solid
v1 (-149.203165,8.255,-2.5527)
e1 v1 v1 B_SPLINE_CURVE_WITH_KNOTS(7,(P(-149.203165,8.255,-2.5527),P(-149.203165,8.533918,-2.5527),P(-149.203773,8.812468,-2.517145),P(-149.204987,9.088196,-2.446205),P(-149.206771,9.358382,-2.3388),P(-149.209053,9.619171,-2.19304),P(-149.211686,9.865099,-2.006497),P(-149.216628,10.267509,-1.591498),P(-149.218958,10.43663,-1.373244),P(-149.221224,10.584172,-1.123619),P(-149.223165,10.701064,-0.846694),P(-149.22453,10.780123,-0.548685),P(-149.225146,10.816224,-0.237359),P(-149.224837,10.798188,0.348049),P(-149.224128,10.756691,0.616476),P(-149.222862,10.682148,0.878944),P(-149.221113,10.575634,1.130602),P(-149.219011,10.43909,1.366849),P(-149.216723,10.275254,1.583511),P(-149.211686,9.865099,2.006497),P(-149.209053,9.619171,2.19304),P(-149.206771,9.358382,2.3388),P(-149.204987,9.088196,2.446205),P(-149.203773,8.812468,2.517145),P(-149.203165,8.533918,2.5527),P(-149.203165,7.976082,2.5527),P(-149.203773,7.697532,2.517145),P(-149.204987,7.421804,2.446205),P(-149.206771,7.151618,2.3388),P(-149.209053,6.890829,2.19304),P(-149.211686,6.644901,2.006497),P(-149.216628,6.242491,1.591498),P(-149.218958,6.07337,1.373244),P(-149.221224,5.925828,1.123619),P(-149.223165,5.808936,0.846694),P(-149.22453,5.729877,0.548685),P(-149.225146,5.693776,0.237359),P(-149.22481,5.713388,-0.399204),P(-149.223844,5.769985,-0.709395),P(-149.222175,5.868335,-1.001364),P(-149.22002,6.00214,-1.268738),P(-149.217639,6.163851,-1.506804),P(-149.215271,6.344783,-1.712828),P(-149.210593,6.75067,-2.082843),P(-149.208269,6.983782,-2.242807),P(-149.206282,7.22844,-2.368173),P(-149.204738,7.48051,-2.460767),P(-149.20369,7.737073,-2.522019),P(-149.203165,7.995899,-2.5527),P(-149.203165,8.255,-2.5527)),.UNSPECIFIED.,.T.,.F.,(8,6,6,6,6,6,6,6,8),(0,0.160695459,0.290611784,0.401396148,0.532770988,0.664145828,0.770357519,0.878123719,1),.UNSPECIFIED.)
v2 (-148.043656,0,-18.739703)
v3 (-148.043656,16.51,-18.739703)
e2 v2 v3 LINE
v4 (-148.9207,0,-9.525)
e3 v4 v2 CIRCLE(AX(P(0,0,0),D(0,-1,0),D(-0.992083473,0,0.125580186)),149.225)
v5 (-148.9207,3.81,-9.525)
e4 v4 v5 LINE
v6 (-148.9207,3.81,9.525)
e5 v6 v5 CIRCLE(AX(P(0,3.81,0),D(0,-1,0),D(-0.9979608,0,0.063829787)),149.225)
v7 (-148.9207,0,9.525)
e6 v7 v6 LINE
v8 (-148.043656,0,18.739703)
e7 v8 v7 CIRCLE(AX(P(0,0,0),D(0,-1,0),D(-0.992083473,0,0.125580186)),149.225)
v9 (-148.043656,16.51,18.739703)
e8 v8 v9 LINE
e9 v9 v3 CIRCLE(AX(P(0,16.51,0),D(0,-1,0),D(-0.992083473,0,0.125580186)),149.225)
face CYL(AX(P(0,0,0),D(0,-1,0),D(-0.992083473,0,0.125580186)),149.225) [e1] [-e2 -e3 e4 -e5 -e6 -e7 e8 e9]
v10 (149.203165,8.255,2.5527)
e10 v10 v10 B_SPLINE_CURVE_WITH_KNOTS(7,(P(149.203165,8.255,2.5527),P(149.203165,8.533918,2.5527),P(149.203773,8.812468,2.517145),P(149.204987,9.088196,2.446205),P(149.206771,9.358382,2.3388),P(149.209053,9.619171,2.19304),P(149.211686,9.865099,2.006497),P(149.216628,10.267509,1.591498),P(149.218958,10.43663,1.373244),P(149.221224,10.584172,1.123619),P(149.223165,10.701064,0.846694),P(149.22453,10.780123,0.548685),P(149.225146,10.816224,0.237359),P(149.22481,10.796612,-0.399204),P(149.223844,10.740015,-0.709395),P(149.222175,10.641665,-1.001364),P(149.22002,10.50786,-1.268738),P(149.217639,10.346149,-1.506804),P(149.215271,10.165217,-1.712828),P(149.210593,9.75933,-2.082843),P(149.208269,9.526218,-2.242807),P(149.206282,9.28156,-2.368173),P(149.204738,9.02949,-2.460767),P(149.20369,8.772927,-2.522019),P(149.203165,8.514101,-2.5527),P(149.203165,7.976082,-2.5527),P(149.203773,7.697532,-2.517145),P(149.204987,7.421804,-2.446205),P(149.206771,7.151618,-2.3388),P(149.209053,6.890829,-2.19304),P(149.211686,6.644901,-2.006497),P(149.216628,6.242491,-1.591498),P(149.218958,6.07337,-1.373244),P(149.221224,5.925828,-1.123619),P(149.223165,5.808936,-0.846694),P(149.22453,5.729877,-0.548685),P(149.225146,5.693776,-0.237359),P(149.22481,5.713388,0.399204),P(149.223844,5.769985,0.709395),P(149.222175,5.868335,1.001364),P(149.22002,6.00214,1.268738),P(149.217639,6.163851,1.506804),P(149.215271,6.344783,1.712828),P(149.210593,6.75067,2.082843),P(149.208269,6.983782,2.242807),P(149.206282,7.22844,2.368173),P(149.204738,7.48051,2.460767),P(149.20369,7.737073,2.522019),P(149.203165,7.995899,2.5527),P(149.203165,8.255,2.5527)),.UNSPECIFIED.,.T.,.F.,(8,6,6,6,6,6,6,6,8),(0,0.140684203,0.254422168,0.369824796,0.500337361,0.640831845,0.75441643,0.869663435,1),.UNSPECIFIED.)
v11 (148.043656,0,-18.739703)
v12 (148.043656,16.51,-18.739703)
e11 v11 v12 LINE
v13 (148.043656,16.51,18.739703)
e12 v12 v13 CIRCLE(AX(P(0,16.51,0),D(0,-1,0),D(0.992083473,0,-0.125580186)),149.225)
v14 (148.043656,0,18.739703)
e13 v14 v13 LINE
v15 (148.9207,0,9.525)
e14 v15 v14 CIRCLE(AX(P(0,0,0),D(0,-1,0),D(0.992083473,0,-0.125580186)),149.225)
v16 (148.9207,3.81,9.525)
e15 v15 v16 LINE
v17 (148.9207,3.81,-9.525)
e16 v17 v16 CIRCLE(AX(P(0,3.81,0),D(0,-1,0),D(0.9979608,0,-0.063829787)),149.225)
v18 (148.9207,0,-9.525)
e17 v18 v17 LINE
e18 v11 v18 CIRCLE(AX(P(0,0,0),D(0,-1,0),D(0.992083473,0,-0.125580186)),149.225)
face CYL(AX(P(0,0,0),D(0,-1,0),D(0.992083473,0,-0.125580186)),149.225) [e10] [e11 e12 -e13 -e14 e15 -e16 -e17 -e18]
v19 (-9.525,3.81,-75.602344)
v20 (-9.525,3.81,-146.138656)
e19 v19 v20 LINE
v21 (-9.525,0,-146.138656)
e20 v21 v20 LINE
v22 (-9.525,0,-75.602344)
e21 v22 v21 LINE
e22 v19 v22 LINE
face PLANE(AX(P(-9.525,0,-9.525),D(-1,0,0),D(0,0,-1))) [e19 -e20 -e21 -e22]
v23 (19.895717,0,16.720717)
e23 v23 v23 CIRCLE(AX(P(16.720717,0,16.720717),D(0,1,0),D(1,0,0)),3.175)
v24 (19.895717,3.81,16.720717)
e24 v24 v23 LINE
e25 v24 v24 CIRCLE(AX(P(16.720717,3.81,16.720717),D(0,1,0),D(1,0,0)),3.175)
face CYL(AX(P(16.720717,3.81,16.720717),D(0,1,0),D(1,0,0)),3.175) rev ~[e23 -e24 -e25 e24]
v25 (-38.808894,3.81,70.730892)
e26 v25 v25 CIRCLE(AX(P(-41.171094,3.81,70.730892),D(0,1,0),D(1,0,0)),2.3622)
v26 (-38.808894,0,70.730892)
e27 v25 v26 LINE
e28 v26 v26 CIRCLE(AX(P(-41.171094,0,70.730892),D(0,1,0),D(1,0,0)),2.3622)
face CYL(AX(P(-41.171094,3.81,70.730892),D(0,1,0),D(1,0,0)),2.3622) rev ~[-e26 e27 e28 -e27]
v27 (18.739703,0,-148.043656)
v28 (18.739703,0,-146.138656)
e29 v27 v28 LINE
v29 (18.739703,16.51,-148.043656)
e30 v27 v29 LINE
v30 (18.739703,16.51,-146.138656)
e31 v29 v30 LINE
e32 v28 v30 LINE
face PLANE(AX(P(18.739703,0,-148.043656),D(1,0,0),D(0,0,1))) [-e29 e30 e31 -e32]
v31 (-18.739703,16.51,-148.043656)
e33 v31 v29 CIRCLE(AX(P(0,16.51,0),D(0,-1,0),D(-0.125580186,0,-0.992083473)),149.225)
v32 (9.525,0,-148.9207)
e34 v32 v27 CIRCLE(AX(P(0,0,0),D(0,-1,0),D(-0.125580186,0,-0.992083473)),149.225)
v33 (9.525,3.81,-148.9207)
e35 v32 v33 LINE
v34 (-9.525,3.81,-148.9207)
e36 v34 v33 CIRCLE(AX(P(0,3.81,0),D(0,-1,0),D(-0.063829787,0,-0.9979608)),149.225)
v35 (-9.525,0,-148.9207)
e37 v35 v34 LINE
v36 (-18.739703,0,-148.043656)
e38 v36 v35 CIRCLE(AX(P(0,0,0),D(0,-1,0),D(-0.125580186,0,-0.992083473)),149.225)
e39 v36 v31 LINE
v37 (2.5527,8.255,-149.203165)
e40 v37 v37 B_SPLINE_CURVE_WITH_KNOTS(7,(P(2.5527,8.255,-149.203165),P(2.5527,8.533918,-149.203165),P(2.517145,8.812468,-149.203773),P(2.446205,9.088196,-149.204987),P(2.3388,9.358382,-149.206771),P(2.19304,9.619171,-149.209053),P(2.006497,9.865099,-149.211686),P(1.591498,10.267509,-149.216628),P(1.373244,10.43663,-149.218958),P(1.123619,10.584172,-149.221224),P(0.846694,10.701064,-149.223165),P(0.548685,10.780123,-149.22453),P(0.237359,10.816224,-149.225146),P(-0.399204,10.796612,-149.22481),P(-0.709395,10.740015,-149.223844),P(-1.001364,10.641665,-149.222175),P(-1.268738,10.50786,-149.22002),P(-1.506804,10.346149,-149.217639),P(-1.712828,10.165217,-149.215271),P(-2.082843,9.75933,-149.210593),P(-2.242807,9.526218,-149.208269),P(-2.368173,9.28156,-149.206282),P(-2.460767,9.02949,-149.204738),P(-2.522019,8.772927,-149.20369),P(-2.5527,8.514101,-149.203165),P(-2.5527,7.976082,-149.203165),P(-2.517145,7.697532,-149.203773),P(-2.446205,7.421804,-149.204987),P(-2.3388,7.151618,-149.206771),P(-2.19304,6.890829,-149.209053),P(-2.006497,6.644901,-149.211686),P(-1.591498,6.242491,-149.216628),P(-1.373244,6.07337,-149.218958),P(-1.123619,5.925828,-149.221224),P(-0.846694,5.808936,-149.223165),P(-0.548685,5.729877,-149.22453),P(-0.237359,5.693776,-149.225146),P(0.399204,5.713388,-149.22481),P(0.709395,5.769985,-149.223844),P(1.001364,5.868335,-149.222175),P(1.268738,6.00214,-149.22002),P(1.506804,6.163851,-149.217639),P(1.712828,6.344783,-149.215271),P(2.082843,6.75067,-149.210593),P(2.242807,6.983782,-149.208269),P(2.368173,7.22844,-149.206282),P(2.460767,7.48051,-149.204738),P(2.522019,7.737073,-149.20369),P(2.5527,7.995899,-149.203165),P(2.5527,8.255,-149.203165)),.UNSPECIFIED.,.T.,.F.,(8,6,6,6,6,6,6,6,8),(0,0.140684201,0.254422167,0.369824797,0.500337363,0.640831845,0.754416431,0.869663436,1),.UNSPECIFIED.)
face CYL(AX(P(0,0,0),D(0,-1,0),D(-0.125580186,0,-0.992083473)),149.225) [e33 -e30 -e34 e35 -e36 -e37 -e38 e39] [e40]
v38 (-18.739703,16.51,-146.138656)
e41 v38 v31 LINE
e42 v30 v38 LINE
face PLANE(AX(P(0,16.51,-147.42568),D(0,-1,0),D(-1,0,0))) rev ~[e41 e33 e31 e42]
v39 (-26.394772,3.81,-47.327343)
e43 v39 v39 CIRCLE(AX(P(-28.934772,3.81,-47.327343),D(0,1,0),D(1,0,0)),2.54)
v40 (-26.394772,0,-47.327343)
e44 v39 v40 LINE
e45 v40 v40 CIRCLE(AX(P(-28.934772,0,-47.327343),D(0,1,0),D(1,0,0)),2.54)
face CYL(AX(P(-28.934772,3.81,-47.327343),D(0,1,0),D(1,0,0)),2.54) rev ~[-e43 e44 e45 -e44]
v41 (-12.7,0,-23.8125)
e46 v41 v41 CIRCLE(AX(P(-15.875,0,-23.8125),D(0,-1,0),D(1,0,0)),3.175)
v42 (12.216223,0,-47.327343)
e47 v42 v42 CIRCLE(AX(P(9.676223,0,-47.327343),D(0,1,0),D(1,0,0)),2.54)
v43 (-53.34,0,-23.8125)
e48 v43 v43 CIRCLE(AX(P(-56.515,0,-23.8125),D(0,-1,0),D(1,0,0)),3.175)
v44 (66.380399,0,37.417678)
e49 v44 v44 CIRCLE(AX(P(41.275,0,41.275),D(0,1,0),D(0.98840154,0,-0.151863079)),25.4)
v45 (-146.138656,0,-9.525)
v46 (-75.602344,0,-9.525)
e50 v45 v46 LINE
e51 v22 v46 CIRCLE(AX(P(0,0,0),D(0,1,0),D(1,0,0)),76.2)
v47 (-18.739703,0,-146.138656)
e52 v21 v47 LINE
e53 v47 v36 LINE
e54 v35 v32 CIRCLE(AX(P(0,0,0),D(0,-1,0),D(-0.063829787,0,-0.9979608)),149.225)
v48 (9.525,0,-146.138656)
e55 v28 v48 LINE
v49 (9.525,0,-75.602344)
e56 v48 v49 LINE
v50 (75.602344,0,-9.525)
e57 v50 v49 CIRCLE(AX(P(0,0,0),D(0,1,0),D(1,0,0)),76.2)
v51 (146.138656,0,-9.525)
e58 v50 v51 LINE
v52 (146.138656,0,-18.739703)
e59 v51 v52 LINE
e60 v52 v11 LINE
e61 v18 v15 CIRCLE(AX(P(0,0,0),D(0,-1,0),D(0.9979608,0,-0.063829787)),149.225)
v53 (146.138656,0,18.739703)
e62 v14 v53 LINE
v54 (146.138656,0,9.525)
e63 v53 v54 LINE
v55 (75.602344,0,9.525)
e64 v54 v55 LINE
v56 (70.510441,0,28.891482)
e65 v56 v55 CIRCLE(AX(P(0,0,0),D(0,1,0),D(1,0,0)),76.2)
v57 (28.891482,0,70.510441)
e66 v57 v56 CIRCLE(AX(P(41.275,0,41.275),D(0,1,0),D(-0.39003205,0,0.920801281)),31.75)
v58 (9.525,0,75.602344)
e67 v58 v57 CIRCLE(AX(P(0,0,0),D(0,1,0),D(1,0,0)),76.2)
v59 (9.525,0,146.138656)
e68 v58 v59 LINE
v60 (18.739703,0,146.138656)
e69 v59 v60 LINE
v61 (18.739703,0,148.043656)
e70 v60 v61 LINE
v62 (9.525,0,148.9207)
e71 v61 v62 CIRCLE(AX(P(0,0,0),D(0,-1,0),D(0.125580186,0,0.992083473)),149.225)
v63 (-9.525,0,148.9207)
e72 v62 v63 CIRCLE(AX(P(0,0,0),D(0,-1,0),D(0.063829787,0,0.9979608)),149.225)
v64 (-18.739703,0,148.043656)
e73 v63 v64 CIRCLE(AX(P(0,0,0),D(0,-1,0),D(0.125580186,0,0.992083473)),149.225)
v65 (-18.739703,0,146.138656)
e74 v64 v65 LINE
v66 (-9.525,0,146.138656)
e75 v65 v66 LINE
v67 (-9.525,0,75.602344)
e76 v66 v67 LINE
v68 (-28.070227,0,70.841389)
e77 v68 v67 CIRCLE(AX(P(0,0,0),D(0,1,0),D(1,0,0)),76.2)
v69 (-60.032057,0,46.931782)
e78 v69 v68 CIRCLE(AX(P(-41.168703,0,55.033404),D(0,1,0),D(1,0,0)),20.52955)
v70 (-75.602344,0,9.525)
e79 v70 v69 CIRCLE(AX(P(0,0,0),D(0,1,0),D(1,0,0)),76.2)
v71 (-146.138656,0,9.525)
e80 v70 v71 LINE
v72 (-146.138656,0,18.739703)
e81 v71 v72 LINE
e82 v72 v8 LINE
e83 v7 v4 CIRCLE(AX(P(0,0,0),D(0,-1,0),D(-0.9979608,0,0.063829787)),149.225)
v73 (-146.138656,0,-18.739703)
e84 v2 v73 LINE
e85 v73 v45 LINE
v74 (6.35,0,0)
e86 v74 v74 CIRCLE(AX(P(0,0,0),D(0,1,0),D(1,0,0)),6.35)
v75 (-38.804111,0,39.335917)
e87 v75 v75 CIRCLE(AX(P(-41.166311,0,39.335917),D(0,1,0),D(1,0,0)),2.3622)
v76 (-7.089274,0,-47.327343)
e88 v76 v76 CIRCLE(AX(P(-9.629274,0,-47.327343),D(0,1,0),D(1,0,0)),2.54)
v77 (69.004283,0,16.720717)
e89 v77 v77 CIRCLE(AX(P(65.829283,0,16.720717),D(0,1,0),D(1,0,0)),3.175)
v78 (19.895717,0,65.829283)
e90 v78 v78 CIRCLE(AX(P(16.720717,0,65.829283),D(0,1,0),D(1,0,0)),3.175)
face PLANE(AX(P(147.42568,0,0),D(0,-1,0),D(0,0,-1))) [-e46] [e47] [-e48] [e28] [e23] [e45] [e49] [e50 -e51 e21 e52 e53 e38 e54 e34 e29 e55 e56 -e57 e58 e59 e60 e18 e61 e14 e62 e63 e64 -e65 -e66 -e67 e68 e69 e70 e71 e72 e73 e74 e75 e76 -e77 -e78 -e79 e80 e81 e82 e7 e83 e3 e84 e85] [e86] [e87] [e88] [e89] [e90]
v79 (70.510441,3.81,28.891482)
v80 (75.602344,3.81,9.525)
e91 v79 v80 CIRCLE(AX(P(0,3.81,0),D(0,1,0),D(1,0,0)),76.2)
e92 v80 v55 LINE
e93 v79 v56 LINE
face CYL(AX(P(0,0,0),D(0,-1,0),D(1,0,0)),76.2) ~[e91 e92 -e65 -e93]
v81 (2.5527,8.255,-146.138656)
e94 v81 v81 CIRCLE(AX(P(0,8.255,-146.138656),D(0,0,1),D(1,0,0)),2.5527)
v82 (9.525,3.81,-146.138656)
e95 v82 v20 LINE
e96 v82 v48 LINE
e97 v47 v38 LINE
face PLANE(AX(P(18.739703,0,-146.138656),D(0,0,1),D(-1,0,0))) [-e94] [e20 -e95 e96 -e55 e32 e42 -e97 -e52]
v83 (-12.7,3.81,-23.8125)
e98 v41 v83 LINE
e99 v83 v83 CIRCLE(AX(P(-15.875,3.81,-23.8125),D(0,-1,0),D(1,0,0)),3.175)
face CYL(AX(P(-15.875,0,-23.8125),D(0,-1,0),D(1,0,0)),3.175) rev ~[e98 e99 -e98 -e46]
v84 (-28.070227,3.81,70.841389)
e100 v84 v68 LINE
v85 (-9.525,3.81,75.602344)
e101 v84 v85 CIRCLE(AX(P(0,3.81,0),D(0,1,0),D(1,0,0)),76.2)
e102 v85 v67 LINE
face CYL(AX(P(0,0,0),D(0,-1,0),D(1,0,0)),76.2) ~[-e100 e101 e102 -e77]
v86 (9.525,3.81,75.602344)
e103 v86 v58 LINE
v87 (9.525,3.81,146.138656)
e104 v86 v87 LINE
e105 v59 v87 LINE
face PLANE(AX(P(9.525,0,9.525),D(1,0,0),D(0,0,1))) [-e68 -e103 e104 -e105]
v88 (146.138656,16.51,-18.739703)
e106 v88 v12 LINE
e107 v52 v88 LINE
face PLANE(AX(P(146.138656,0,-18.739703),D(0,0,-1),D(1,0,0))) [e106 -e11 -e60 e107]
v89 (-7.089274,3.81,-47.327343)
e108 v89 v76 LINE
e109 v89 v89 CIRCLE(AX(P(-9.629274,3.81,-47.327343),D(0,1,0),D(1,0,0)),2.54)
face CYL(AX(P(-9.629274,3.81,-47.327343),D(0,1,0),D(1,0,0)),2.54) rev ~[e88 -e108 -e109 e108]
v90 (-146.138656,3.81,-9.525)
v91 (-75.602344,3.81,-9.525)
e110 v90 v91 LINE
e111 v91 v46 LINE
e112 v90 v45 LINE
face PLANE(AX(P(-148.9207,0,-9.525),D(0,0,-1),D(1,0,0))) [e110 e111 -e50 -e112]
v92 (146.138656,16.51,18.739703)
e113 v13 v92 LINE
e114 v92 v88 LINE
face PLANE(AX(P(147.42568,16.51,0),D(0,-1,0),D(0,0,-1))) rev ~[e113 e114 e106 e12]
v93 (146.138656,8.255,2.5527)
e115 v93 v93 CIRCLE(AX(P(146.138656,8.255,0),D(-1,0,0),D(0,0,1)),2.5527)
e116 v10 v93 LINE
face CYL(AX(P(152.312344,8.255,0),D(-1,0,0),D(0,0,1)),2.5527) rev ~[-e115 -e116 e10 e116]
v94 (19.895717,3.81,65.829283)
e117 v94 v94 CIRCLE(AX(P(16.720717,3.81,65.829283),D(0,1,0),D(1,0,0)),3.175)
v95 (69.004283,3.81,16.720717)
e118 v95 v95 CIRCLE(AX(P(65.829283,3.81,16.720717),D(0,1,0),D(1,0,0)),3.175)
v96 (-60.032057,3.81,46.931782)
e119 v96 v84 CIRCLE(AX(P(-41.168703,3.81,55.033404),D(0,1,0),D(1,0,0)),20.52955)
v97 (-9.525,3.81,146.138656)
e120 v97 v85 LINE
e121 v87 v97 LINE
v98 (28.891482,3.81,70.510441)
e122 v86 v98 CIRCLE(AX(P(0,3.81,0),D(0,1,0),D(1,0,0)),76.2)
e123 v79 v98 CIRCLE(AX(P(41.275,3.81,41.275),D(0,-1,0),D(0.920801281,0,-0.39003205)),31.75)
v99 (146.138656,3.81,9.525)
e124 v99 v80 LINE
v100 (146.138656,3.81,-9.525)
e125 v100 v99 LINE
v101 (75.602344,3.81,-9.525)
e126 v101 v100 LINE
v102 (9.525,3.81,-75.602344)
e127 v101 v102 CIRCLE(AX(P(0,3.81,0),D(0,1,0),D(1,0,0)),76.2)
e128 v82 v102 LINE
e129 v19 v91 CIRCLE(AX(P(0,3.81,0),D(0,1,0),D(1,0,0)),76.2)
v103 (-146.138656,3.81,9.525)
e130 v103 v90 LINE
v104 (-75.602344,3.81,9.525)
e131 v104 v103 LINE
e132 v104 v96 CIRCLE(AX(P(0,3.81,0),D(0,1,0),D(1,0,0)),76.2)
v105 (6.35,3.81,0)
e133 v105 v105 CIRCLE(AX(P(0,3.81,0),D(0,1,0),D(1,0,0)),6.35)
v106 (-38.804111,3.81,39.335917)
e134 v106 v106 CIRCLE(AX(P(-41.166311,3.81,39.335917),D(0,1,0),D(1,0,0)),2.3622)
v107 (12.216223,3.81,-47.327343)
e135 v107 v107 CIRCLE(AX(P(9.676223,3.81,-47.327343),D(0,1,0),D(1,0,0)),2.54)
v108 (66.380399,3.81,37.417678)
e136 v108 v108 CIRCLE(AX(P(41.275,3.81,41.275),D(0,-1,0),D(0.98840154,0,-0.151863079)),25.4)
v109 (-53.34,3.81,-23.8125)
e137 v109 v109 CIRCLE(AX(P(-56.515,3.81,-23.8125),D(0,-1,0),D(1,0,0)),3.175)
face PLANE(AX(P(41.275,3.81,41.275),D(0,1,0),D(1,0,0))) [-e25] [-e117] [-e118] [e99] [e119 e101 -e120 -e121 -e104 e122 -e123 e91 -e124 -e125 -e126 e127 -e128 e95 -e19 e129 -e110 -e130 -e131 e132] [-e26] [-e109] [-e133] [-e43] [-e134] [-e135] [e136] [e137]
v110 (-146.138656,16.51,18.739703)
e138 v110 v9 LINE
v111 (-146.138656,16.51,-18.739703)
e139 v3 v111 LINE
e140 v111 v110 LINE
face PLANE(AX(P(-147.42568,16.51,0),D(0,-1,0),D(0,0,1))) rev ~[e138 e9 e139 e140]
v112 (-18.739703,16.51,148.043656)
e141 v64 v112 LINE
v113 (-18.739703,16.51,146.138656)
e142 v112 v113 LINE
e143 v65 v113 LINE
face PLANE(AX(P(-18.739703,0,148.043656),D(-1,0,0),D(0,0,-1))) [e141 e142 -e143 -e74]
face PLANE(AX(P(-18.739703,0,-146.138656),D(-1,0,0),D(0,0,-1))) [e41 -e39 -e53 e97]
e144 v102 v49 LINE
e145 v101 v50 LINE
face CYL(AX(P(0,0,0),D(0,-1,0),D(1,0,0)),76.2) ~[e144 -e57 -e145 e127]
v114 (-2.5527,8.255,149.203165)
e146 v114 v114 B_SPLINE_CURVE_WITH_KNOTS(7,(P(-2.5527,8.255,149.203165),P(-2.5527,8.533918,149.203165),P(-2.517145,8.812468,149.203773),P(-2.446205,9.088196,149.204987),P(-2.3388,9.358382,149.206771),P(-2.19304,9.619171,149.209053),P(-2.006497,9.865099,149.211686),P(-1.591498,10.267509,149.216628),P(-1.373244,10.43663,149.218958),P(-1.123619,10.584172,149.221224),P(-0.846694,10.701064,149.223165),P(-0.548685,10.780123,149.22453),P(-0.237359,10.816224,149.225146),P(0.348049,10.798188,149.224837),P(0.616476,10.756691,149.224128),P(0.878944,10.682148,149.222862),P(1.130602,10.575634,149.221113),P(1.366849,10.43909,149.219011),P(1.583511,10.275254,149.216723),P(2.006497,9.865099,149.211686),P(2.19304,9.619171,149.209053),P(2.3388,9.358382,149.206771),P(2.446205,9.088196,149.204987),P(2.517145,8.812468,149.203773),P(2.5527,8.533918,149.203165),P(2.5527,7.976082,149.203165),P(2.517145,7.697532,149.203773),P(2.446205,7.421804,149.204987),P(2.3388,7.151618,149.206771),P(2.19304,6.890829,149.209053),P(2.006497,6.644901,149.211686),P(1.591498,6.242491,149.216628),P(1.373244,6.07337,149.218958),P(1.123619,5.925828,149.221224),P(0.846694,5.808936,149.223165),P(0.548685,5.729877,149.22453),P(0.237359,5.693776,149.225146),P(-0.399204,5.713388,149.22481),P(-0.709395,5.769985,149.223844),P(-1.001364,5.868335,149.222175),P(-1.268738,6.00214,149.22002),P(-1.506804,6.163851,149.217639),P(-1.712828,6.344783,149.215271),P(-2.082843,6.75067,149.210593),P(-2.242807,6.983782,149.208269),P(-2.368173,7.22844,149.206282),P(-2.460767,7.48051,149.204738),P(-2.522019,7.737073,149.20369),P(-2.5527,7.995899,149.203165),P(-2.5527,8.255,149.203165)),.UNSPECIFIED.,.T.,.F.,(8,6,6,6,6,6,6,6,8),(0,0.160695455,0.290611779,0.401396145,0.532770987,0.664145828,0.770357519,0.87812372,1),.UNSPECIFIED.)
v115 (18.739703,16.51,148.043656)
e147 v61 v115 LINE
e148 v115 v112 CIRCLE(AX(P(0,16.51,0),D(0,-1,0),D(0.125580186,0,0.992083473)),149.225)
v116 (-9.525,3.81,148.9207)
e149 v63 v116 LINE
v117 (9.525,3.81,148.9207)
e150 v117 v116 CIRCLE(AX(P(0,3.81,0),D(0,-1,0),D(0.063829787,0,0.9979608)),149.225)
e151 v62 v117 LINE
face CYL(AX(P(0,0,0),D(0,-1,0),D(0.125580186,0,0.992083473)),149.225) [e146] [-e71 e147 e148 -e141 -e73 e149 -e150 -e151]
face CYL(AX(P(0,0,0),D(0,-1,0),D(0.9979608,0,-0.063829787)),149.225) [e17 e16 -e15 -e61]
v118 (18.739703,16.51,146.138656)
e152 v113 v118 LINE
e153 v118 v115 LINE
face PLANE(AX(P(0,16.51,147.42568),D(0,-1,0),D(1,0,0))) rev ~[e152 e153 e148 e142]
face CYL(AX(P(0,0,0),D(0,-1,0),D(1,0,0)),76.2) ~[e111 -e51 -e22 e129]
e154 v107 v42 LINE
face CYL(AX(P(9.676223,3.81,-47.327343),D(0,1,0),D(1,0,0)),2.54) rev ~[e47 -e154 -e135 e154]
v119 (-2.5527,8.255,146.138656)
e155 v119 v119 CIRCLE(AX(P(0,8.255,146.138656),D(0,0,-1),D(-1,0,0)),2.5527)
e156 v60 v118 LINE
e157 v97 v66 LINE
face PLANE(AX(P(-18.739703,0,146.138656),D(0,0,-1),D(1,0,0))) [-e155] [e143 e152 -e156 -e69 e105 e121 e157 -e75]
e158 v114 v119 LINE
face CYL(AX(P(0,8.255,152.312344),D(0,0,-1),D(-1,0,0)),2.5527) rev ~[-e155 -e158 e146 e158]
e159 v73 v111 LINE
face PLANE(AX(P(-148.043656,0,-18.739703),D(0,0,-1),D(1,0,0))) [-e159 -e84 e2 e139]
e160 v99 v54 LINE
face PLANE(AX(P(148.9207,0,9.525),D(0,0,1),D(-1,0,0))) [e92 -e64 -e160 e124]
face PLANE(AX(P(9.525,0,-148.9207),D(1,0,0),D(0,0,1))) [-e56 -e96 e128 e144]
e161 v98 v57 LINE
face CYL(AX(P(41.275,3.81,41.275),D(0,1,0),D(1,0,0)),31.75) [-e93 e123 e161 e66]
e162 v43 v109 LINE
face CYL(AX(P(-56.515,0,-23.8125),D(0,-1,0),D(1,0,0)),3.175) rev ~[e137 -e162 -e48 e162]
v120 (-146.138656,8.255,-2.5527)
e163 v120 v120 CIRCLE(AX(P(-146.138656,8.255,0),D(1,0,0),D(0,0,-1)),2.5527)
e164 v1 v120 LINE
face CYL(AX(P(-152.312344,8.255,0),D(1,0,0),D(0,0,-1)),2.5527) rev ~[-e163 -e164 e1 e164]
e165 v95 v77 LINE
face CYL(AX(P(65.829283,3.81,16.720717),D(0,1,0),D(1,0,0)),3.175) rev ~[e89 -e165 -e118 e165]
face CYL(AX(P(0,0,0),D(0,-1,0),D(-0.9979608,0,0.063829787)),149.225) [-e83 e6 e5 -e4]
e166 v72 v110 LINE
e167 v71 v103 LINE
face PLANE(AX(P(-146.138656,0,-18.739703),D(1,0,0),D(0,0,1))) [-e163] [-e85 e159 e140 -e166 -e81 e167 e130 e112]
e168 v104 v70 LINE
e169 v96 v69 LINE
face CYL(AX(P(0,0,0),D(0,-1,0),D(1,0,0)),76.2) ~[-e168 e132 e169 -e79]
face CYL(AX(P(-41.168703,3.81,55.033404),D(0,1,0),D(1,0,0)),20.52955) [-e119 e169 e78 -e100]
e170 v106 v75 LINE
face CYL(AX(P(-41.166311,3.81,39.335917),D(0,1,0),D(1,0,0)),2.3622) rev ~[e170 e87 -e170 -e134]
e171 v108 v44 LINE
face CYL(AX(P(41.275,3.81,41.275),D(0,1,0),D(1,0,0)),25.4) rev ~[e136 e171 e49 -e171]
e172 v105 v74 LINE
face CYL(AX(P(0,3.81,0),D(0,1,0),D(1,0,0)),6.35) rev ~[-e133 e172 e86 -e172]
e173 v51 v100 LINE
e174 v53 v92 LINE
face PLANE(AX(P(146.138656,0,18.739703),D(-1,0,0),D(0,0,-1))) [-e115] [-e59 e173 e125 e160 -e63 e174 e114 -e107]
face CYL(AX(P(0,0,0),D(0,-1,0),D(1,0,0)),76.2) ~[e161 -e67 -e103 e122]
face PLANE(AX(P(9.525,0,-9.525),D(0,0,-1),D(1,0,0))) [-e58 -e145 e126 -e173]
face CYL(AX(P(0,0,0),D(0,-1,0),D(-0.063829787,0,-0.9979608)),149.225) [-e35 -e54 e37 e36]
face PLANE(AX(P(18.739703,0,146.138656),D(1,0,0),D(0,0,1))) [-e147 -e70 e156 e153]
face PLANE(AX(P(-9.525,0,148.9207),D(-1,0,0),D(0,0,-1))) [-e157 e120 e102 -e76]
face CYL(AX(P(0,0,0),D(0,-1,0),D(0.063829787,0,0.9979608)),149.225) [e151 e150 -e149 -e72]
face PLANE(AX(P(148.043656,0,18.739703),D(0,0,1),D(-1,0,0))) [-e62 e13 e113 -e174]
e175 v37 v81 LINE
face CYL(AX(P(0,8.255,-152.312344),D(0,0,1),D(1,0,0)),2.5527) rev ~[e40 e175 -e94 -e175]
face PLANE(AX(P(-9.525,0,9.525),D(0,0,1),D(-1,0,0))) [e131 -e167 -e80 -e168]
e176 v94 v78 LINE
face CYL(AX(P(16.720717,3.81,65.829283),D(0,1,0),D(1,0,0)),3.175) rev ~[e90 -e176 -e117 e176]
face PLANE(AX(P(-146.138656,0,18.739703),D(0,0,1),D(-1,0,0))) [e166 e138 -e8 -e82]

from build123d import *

# Parameters (mm, degrees)
SKETCH1_R                       = 76.2
BOSS_EXTRUDE1_DEPTH             = 3.81
BOSS_EXTRUDE3_DEPTH             = 3.81
SKETCH5_R                       = 6.35
CUT_EXTRUDE1_DEPTH              = 4.81
BOSS_EXTRUDE4_START             = -3.81
BOSS_EXTRUDE4_DEPTH             = 16.51
SKETCH9_R                       = 3.174999999
CUT_EXTRUDE4_DEPTH              = 3.81
SKETCH11_R                      = 31.75
SKETCH11_R_2                    = 25.4
BOSS_EXTRUDE5_DEPTH             = 3.81
SKETCH12_R                      = 25.4
CUT_EXTRUDE5_DEPTH              = 3.81
SKETCH13_R                      = 20.52955
SKETCH13_R_2                    = 2.3622
BOSS_EXTRUDE7_DEPTH             = 3.81
SKETCH14_R                      = 2.3622
CUT_EXTRUDE6_DEPTH              = 3.81
SKETCH15_R                      = 3.175
CUT_EXTRUDE7_DEPTH              = 3.81
TAP_DRILL_FOR_1_4_20_TAP1_D     = 5.1054
TAP_DRILL_FOR_1_4_20_TAP1_DEPTH = 3.087343788
CIRPATTERN1_COUNT               = 4
SKETCH22_R                      = 2.54
CUT_EXTRUDE8_DEPTH              = 17.78


with BuildPart() as part:
    # Sketch1 → Boss-Extrude1 (new body)
    with BuildSketch(Plane(origin=(0, 0, 0), x_dir=(1, 0, 0), z_dir=(0, 1, 0))):
        Circle(SKETCH1_R)
    extrude(amount=BOSS_EXTRUDE1_DEPTH)

    # Sketch3 → Boss-Extrude3 (add)
    with BuildSketch(Plane(origin=(0, 0, 0), x_dir=(-1, 0, 0), z_dir=(0, -1, 0))):
        with BuildLine():
            Line((9.525, -9.525), (148.920700374, -9.525))
            ThreePointArc((148.920700374, -9.525), (149.225, 0), (148.920700374, 9.525))
            Line((148.920700374, 9.525), (9.525, 9.525))
            Line((9.525, 9.525), (9.525, 148.920700374))
            ThreePointArc((9.525, 148.920700374), (0, 149.225), (-9.525, 148.920700374))
            Line((-9.525, 148.920700374), (-9.525, 9.525))
            Line((-9.525, 9.525), (-148.920700374, 9.525))
            ThreePointArc((-148.920700374, 9.525), (-149.225, 0), (-148.920700374, -9.525))
            Line((-148.920700374, -9.525), (-9.525, -9.525))
            Line((-9.525, -9.525), (-9.525, -148.920700374))
            ThreePointArc((-9.525, -148.920700374), (0, -149.225), (9.525, -148.920700374))
            Line((9.525, -148.920700374), (9.525, -9.525))
        make_face()
    extrude(amount=-BOSS_EXTRUDE3_DEPTH)

    # Sketch5 → Cut-Extrude1 (cut, through all)
    with BuildSketch(Plane(origin=(0, 3.81, 0), x_dir=(1, 0, 0), z_dir=(0, 1, 0))):
        Circle(SKETCH5_R)
    extrude(amount=-CUT_EXTRUDE1_DEPTH, mode=Mode.SUBTRACT)

    # Sketch7 → Boss-Extrude4 (add)
    with BuildSketch(Plane(origin=(0, 3.81, 0), x_dir=(1, 0, 0), z_dir=(0, 1, 0)).offset(BOSS_EXTRUDE4_START)):
        with BuildLine():
            Line((18.739703318, 148.043656212), (18.739703318, 146.138656212))
            Line((18.739703318, 146.138656212), (-18.739703318, 146.138656212))
            Line((-18.739703318, 146.138656212), (-18.739703318, 148.043656212))
            ThreePointArc((-18.739703318, 148.043656212), (0, 149.225), (18.739703318, 148.043656212))
        make_face()
    boss_extrude4 = extrude(amount=BOSS_EXTRUDE4_DEPTH)

    # Sketch9 → Cut-Extrude4 (cut)
    with BuildSketch(Plane.XZ):
        with Locations((-56.514999999, -23.8125)):
            Circle(SKETCH9_R)
        with Locations((-15.874999999, -23.8125)):
            Circle(SKETCH9_R)
    extrude(amount=-CUT_EXTRUDE4_DEPTH, mode=Mode.SUBTRACT)

    # Sketch11 → Boss-Extrude5 (add)
    with BuildSketch(Plane(origin=(0, 3.81, 0), x_dir=(1, 0, 0), z_dir=(0, 1, 0))):
        with Locations((41.275, -41.275)):
            Circle(SKETCH11_R)
        with Locations((41.275, -41.275)):
            Circle(SKETCH11_R_2, mode=Mode.SUBTRACT)
    extrude(amount=-BOSS_EXTRUDE5_DEPTH)

    # Sketch12 → Cut-Extrude5 (cut)
    with BuildSketch(Plane(origin=(0, 3.81, 0), x_dir=(1, 0, 0), z_dir=(0, 1, 0))):
        with Locations((41.275, -41.275)):
            Circle(SKETCH12_R)
    extrude(amount=-CUT_EXTRUDE5_DEPTH, mode=Mode.SUBTRACT)

    # Sketch13 → Boss-Extrude7 (add)
    with BuildSketch(Plane(origin=(0, 3.81, 0), x_dir=(1, 0, 0), z_dir=(0, 1, 0))):
        with Locations((-41.16870274, -55.03340443)):
            Circle(SKETCH13_R)
        with Locations((-41.17109409, -70.730891948)):
            Circle(SKETCH13_R_2, mode=Mode.SUBTRACT)
        with Locations((-41.166311391, -39.335916913)):
            Circle(SKETCH13_R_2, mode=Mode.SUBTRACT)
    extrude(amount=-BOSS_EXTRUDE7_DEPTH)

    # Sketch14 → Cut-Extrude6 (cut)
    with BuildSketch(Plane(origin=(0, 3.81, 0), x_dir=(1, 0, 0), z_dir=(0, 1, 0))):
        with Locations((-41.166311391, -39.335916913)):
            Circle(SKETCH14_R)
    extrude(amount=-CUT_EXTRUDE6_DEPTH, mode=Mode.SUBTRACT)

    # Sketch15 → Cut-Extrude7 (cut)
    with BuildSketch(Plane(origin=(0, 3.81, 0), x_dir=(1, 0, 0), z_dir=(0, 1, 0))):
        with Locations((16.720717023, -16.720717023)):
            Circle(SKETCH15_R)
        with Locations((65.829282977, -16.720717023)):
            Circle(SKETCH15_R)
        with Locations((16.720717023, -65.829282977)):
            Circle(SKETCH15_R)
    extrude(amount=-CUT_EXTRUDE7_DEPTH, mode=Mode.SUBTRACT)

    # Tap Drill for 1/4-20 Tap1
    with Locations(Plane(origin=(0, 0, -149.225), x_dir=(-1, 0, 0), z_dir=(0, 0, -1))):
        with Locations((0, 8.255)):
            tap_drill_for_1_4_20_tap1 = Hole(TAP_DRILL_FOR_1_4_20_TAP1_D / 2, depth=TAP_DRILL_FOR_1_4_20_TAP1_DEPTH)

    # CirPattern1: Boss-Extrude4, Tap Drill for 1/4-20 Tap1 ×4 about axis
    cirpattern1_axis = Axis((0, 0, 0), (0, 1, 0))
    for i in range(1, CIRPATTERN1_COUNT):
        add(boss_extrude4.rotate(cirpattern1_axis, i * 360 / CIRPATTERN1_COUNT))
        add(tap_drill_for_1_4_20_tap1.rotate(cirpattern1_axis, i * 360 / CIRPATTERN1_COUNT), mode=Mode.SUBTRACT)

    # Sketch22 → Cut-Extrude8 (cut)
    with BuildSketch(Plane(origin=(0, 3.81, 0), x_dir=(1, 0, 0), z_dir=(0, 1, 0))):
        with Locations((9.676222664, 47.327342728)):
            Circle(SKETCH22_R)
        with Locations((-9.629274443, 47.327342728)):
            Circle(SKETCH22_R)
        with Locations((-28.93477155, 47.327342728)):
            Circle(SKETCH22_R)
    extrude(amount=-CUT_EXTRUDE8_DEPTH, mode=Mode.SUBTRACT)


solid = part.part
